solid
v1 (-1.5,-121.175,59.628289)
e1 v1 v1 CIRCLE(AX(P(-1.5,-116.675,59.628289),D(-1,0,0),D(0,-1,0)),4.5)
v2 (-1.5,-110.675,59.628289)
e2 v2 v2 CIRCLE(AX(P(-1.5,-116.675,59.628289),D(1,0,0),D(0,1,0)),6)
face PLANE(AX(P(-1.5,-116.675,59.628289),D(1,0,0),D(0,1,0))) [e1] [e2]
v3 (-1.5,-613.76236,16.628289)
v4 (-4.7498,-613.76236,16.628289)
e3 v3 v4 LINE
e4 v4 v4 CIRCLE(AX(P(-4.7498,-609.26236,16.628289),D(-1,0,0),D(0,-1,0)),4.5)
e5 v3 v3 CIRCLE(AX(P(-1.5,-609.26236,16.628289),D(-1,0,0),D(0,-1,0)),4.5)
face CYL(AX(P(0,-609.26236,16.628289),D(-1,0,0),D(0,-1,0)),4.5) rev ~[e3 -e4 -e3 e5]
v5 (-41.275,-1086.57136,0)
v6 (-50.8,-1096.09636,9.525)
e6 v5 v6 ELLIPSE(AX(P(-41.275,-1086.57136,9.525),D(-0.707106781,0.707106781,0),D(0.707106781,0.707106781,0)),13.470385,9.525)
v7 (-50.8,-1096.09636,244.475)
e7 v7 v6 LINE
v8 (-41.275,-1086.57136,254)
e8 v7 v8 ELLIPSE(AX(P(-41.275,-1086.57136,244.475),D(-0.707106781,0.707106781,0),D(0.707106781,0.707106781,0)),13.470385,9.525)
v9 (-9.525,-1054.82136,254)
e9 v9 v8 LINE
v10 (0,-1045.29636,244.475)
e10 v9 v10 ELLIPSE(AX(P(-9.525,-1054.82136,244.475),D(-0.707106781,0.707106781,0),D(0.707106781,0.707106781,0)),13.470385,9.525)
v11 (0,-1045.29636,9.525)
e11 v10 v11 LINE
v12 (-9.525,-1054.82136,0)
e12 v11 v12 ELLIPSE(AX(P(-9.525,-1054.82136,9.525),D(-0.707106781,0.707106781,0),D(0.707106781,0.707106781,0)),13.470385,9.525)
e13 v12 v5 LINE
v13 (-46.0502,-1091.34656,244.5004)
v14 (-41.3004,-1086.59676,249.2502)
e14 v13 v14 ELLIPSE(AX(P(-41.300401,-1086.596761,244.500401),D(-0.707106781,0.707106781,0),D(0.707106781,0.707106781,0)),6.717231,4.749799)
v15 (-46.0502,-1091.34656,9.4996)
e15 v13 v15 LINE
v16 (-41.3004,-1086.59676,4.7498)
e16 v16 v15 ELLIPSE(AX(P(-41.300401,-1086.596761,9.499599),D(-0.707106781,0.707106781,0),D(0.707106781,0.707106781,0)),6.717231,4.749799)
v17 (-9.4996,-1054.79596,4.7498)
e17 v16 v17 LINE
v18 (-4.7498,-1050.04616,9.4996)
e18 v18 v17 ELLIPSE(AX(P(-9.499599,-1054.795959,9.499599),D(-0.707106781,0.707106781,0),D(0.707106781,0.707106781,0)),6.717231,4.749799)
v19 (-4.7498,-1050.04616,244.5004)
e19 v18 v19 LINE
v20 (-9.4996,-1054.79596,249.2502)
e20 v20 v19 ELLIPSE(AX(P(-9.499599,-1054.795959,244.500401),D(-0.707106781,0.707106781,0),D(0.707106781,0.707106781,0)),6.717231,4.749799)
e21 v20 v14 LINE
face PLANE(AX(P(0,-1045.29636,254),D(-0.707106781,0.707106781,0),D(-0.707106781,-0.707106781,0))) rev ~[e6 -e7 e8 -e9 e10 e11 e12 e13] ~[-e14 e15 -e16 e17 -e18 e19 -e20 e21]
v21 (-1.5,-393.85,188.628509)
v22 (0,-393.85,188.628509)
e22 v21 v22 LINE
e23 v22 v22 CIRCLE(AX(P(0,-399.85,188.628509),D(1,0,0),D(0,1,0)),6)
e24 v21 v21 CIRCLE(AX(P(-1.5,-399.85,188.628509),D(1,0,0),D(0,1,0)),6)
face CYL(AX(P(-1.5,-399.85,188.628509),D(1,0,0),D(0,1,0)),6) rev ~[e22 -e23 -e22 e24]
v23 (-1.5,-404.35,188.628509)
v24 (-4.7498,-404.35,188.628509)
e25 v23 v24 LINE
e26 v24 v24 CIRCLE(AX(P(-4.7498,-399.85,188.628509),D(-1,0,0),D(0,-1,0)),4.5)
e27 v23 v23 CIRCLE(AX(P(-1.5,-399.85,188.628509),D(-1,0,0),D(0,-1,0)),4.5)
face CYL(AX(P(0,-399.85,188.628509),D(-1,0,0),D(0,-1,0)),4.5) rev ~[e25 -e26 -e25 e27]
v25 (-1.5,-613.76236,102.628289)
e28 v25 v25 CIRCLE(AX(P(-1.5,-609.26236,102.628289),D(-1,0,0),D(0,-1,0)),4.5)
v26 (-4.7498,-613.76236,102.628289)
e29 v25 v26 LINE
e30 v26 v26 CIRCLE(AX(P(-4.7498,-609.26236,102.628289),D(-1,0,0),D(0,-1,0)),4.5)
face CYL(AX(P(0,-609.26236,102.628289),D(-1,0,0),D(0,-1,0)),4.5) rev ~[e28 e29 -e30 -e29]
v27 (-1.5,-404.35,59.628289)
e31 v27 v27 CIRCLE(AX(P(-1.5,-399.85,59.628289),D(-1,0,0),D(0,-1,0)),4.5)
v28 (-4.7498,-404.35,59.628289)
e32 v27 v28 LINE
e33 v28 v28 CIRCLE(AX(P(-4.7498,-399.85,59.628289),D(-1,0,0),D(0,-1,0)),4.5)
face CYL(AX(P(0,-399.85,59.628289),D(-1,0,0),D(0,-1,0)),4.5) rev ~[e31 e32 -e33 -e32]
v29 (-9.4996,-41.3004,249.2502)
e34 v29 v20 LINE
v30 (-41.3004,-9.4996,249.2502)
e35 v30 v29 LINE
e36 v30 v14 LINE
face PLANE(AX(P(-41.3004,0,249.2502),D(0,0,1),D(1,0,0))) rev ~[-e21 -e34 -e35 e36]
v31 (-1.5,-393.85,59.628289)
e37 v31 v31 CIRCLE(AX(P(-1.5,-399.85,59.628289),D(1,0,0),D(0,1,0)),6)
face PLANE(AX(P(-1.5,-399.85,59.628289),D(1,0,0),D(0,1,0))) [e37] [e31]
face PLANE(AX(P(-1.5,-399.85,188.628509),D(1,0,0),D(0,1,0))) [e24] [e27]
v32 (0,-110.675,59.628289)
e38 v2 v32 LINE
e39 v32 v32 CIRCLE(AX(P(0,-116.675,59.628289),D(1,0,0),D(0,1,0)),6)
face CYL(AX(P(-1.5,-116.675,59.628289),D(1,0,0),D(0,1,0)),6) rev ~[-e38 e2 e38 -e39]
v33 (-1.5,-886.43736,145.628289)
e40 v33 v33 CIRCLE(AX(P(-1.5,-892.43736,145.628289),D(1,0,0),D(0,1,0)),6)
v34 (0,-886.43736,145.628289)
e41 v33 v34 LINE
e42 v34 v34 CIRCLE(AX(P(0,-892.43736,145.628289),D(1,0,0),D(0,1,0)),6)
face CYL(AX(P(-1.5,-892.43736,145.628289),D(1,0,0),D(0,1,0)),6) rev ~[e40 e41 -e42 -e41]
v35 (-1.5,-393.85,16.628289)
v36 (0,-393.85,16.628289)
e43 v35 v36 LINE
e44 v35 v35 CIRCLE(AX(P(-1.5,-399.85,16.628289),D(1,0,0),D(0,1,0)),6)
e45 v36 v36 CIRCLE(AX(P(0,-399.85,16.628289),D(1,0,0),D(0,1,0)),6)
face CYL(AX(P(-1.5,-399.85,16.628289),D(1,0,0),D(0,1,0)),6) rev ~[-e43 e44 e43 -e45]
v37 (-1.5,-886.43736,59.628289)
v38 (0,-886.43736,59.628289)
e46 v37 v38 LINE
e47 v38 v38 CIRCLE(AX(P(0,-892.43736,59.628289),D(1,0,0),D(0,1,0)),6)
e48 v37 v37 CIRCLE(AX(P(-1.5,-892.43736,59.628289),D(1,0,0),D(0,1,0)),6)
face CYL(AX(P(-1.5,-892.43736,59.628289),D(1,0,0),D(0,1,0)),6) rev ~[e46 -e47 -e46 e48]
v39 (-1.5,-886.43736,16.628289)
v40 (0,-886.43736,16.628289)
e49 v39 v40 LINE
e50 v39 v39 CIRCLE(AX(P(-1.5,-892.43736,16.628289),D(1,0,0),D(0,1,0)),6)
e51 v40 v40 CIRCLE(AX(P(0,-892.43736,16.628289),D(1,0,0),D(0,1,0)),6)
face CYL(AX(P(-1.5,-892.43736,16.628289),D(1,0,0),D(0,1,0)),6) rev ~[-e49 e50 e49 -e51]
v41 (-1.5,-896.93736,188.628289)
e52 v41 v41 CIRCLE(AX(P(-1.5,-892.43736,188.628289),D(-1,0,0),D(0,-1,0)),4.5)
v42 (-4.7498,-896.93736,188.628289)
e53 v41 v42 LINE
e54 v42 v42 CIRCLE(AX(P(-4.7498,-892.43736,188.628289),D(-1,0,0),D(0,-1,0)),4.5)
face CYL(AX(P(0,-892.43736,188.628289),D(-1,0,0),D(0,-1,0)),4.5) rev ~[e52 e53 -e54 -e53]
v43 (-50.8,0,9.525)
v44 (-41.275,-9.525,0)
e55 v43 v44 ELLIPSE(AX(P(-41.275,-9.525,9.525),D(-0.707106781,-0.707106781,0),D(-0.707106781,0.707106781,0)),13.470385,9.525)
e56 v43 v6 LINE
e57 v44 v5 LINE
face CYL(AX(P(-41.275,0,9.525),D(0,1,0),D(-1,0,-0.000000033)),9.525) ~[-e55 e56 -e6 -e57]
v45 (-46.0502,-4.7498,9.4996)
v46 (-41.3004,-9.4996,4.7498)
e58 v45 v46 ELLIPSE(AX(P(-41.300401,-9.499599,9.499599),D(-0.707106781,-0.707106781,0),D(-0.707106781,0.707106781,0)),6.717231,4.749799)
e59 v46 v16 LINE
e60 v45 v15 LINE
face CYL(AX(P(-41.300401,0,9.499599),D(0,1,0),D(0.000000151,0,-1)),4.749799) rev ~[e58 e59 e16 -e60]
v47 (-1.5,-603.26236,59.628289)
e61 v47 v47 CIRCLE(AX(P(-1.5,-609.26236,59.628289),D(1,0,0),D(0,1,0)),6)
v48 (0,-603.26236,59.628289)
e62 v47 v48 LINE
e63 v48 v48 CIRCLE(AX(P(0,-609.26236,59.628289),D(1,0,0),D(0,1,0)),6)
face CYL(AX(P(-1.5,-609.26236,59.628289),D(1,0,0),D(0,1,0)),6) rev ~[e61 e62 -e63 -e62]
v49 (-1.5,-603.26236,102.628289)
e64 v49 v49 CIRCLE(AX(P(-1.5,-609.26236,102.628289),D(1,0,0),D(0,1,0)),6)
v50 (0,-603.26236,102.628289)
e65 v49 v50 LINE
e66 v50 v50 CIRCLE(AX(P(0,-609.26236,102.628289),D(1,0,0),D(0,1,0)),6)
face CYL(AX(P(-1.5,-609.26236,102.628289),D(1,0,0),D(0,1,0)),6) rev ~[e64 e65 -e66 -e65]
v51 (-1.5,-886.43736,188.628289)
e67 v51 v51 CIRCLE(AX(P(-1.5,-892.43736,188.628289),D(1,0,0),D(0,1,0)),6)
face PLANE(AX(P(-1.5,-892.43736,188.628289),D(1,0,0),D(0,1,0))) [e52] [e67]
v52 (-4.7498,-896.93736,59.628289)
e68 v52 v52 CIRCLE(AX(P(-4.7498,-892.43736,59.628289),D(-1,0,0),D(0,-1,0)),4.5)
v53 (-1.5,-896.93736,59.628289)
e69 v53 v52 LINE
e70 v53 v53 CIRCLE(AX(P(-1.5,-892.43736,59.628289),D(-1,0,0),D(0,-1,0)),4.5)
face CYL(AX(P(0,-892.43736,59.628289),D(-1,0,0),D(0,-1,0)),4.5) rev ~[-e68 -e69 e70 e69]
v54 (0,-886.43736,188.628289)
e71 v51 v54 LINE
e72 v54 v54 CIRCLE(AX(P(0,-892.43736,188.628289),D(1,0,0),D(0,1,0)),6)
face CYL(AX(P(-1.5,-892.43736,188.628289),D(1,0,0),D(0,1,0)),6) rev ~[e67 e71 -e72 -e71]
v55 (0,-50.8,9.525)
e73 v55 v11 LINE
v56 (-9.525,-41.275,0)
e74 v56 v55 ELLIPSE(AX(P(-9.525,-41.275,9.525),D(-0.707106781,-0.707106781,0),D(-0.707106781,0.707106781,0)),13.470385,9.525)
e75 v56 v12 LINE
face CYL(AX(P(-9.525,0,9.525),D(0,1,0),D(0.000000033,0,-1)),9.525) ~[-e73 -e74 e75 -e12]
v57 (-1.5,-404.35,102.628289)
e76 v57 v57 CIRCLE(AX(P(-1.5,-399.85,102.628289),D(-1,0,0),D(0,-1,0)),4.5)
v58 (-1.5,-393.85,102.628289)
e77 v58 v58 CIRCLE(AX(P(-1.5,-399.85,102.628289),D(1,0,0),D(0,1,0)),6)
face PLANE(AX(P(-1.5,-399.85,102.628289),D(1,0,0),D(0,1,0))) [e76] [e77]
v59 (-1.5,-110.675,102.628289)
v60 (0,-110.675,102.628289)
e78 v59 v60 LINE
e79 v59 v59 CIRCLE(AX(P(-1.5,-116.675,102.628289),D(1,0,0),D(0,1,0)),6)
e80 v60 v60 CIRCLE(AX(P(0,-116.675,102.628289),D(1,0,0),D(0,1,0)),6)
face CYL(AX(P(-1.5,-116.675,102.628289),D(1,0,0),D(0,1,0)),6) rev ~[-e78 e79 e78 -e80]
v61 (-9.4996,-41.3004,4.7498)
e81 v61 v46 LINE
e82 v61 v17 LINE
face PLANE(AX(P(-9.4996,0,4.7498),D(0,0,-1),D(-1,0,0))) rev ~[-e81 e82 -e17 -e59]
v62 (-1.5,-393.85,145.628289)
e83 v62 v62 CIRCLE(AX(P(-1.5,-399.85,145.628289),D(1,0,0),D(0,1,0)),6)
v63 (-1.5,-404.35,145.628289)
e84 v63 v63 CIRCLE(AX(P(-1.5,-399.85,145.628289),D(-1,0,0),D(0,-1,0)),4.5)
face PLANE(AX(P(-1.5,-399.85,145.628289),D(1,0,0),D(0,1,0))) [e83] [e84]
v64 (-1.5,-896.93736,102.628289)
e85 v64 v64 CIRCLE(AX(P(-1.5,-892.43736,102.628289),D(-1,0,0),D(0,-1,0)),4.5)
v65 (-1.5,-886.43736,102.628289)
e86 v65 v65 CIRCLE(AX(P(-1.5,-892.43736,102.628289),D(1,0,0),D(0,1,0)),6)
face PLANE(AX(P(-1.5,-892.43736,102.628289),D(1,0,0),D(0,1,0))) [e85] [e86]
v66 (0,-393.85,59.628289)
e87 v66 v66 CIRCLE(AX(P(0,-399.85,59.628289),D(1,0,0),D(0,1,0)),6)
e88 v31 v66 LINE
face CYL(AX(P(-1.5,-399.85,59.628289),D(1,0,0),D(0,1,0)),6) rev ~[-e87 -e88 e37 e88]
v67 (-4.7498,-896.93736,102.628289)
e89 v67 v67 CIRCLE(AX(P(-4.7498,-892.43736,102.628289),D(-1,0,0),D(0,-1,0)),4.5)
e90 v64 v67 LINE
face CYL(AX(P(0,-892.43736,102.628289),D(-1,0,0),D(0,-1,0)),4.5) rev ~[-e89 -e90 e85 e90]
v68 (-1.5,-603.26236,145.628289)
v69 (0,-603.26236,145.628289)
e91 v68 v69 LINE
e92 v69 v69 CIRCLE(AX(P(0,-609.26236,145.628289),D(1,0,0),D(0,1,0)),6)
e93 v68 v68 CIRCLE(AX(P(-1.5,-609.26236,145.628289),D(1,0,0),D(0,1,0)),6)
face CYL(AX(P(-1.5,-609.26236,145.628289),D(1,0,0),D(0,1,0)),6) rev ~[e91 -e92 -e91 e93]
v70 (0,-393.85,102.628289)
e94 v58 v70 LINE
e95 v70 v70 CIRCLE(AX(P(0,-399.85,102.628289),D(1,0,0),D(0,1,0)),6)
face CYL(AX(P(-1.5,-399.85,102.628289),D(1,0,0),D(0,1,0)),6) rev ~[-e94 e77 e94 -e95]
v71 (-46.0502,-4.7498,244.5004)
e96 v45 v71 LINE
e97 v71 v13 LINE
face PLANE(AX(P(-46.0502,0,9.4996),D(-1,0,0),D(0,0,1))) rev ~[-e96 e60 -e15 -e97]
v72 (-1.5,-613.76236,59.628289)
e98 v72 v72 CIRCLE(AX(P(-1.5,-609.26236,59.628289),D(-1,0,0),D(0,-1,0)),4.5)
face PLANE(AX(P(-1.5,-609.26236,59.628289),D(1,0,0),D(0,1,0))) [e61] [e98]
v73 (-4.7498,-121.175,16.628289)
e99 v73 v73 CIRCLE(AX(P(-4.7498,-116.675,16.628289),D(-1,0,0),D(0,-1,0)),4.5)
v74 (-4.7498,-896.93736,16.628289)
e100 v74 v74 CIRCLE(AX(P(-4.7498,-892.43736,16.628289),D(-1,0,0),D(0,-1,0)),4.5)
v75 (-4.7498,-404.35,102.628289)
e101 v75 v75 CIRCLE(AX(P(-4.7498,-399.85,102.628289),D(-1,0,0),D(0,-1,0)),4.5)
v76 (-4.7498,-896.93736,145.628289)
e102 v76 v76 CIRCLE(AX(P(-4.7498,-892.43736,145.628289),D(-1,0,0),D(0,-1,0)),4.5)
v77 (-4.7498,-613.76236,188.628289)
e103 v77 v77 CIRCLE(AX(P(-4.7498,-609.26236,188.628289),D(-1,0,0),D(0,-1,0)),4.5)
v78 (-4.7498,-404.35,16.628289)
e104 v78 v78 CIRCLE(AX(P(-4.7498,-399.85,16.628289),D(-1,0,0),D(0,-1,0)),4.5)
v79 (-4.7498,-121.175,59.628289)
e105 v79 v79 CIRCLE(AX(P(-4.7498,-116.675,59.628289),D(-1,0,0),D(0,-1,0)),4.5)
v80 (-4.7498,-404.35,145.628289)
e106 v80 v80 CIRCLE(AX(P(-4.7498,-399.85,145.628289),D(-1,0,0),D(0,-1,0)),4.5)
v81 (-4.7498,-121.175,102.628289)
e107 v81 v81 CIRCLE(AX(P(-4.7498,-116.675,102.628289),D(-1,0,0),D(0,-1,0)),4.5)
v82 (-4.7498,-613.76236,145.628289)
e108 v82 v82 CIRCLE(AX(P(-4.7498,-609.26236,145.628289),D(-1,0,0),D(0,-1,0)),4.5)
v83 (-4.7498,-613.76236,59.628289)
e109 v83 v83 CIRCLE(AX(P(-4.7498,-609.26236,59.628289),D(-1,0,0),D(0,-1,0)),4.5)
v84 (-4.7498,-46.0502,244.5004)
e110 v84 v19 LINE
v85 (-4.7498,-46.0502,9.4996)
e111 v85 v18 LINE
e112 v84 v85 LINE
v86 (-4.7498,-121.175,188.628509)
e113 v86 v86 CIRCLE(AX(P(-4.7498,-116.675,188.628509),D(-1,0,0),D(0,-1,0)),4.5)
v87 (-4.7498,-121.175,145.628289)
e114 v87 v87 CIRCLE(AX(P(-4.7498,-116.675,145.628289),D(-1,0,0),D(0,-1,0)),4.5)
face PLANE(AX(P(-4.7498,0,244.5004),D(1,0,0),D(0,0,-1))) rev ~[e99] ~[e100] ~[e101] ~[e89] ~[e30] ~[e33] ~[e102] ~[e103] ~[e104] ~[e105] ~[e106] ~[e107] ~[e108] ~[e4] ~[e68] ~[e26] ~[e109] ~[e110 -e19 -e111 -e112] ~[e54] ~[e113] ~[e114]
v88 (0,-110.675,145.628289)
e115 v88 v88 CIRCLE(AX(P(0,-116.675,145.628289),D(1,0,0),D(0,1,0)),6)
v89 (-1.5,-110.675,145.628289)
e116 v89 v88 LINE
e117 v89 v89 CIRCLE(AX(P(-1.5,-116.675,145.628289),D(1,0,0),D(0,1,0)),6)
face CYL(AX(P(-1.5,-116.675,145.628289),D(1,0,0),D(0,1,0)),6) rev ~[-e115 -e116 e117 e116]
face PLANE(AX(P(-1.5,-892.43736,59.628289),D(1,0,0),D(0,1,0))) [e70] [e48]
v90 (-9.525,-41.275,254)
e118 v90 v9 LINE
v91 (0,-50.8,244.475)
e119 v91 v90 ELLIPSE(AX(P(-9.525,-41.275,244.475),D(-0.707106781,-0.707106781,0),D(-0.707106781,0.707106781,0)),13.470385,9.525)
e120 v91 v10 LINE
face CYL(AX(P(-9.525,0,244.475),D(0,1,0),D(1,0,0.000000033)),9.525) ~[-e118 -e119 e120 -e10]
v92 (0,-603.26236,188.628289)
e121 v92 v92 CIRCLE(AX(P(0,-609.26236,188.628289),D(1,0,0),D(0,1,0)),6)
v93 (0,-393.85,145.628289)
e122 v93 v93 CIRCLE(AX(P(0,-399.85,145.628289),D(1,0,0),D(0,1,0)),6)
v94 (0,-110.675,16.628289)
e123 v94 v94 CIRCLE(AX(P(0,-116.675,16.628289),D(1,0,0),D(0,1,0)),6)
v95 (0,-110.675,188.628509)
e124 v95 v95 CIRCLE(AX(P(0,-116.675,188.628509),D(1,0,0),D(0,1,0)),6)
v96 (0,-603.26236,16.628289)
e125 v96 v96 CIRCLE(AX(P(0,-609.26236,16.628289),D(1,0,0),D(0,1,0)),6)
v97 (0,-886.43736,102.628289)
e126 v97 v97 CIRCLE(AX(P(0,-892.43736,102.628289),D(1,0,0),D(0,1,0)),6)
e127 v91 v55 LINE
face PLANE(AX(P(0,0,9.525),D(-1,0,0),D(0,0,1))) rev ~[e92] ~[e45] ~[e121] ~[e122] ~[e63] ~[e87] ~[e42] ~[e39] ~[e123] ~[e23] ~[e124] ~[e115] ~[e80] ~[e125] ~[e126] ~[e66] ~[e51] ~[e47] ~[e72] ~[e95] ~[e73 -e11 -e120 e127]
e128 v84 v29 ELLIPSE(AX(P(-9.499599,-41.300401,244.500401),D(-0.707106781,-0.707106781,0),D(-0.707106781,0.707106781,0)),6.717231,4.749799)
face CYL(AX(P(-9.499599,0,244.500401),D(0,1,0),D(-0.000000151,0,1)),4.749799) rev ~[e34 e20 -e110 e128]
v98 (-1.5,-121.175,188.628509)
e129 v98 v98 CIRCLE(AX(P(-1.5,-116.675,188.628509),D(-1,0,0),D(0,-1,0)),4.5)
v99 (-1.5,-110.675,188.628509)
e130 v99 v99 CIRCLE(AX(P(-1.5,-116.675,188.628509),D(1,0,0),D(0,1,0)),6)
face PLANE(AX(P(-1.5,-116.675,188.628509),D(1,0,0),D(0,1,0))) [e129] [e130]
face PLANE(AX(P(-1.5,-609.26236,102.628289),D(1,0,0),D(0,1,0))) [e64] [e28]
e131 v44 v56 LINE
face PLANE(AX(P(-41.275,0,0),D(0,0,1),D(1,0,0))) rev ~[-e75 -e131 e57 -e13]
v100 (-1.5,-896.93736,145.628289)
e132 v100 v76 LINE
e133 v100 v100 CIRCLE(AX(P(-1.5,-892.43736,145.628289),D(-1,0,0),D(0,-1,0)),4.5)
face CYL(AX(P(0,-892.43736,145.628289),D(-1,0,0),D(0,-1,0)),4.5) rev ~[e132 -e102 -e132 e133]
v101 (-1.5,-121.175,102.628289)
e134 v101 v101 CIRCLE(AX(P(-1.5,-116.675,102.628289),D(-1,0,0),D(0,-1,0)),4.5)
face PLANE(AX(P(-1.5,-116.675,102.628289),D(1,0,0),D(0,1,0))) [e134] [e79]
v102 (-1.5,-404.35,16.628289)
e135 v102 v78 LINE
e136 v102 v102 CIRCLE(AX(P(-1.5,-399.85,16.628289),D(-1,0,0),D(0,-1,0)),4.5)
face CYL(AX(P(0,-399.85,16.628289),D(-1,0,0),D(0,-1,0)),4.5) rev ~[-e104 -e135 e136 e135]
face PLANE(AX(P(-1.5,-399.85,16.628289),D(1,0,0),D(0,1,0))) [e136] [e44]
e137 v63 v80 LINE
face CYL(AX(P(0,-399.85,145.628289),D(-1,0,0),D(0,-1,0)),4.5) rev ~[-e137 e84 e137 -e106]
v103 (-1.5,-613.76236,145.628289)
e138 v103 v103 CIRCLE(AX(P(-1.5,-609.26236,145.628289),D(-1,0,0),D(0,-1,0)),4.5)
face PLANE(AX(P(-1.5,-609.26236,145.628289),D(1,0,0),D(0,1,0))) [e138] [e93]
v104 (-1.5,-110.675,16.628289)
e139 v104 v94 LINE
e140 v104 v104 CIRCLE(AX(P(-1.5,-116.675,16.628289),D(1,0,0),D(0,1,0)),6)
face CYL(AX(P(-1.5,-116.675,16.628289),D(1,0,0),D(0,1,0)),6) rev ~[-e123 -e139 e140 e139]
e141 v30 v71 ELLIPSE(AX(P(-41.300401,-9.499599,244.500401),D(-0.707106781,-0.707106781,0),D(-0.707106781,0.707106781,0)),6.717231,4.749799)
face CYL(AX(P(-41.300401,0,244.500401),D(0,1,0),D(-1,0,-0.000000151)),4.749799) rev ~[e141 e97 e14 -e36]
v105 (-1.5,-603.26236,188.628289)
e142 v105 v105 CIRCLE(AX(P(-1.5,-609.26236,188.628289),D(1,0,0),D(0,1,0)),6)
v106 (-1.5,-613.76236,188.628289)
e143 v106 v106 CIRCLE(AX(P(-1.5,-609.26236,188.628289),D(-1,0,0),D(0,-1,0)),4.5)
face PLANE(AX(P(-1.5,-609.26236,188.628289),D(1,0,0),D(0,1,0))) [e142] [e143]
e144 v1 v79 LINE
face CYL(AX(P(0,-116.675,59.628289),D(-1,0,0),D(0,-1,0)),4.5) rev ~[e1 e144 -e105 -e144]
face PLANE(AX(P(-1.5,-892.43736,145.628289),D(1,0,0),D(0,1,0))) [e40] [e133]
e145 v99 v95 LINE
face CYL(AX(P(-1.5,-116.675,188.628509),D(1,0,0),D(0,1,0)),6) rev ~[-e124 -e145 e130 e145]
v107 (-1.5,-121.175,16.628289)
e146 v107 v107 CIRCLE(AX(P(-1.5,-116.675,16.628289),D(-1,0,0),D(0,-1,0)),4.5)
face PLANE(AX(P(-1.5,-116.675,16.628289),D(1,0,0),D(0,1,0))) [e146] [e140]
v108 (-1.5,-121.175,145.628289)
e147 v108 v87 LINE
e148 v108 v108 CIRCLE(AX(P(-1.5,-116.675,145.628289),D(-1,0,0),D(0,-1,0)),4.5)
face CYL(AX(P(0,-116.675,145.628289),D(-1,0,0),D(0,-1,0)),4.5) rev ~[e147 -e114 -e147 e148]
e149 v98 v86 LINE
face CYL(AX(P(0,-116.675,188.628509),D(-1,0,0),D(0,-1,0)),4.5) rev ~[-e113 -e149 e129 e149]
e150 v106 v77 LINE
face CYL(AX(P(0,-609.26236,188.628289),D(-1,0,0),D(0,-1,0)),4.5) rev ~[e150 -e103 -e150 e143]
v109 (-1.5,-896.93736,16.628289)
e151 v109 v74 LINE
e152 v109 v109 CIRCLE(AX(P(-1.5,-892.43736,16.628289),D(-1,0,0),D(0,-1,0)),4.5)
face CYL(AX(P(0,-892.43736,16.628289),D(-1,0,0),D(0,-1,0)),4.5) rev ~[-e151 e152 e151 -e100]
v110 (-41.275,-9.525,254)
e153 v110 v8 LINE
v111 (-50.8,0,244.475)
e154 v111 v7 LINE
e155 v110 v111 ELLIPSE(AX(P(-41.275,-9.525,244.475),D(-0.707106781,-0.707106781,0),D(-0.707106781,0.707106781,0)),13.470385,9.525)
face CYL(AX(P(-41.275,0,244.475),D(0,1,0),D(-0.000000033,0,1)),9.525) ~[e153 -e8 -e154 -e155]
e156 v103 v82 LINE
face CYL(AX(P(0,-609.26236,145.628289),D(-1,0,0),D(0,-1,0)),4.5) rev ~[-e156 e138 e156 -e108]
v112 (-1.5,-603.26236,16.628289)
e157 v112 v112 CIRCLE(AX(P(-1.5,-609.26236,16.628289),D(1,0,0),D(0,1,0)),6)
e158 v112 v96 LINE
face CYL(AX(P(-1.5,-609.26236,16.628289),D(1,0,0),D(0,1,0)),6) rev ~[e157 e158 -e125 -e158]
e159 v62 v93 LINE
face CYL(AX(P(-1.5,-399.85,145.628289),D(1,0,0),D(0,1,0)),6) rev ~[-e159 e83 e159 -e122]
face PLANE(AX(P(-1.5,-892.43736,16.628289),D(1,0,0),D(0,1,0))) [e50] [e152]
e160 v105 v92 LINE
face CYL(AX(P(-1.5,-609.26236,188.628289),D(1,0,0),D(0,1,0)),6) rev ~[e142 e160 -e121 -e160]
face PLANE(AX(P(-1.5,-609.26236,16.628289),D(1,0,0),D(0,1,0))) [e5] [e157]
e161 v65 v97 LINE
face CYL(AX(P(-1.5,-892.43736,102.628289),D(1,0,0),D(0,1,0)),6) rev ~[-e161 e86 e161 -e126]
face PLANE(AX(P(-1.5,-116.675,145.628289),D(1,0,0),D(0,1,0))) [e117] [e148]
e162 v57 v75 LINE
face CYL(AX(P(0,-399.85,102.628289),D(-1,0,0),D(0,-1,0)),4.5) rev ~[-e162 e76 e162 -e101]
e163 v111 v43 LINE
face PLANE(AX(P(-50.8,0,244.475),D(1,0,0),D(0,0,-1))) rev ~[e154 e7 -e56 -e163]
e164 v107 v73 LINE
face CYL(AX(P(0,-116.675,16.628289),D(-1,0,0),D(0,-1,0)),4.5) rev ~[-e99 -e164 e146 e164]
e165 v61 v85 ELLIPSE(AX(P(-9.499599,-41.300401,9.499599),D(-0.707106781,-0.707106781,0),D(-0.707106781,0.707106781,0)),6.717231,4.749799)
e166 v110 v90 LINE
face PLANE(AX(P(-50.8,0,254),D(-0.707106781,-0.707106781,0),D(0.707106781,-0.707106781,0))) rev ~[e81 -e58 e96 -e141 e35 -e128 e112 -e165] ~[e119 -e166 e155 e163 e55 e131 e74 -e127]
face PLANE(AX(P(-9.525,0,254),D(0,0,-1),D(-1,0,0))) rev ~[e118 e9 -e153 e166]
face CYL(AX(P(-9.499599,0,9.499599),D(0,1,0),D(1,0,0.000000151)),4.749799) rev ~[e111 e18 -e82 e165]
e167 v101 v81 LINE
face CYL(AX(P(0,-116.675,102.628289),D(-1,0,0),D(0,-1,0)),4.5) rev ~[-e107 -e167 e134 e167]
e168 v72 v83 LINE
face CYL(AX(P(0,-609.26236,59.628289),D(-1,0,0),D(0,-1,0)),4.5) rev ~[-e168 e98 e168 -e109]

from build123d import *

# Parameters (mm, degrees)
F1_DEPTH       = 1096.09636
F3_DEPTH       = 254.001
F5_D           = 9
F5_DEPTH       = 10
F5_CBORE_D     = 12
F5_CBORE_DEPTH = 1.5


with BuildPart() as f1:
    # F0 (on Front) → F1 (new body)
    with BuildSketch(Plane.XZ):
        with BuildLine():
            Line((-41.275, 0), (-9.525, 0))
            ThreePointArc((-9.525, 0), (-2.789808, 2.789808), (0, 9.525))
            Line((0, 9.525), (0, 244.475))
            ThreePointArc((0, 244.475), (-2.789808, 251.210192), (-9.525, 254))
            Line((-9.525, 254), (-41.275, 254))
            ThreePointArc((-41.275, 254), (-48.010192, 251.210192), (-50.8, 244.475))
            Line((-50.8, 244.475), (-50.8, 9.525))
            ThreePointArc((-50.8, 9.525), (-48.010192, 2.789808), (-41.275, 0))
        make_face()
        with BuildLine():
            ThreePointArc((-46.0502, 244.5004), (-44.659016, 247.859016), (-41.3004, 249.2502))
            Line((-41.3004, 249.2502), (-9.4996, 249.2502))
            ThreePointArc((-9.4996, 249.2502), (-6.140984, 247.859016), (-4.7498, 244.5004))
            Line((-4.7498, 244.5004), (-4.7498, 9.4996))
            ThreePointArc((-4.7498, 9.4996), (-6.140984, 6.140984), (-9.4996, 4.7498))
            Line((-9.4996, 4.7498), (-41.3004, 4.7498))
            ThreePointArc((-41.3004, 4.7498), (-44.659016, 6.140984), (-46.0502, 9.4996))
            Line((-46.0502, 9.4996), (-46.0502, 244.5004))
        make_face(mode=Mode.SUBTRACT)
    extrude(amount=F1_DEPTH)

    # F2 (on face) → F3 (cut, through all)
    with BuildSketch(Plane.XY.offset(254)):
        Polygon((0, 0), (-50.8, 0), (0, -50.8), align=None)
        Polygon((0, -1045.29636), (-50.8, -1096.09636), (0, -1096.09636), align=None)
    extrude(amount=-F3_DEPTH, mode=Mode.SUBTRACT)

    # F5
    with Locations(Plane.YZ):
        with Locations((-892.43736, 188.628289), (-892.43736, 145.628289), (-892.43736, 102.628289), (-892.43736, 59.628289), (-892.43736, 16.628289), (-609.26236, 188.628289), (-609.26236, 145.628289), (-609.26236, 102.628289), (-609.26236, 59.628289), (-609.26236, 16.628289), (-399.85, 188.628509), (-399.85, 145.628289), (-399.85, 102.628289), (-399.85, 59.628289), (-399.85, 16.628289), (-116.675, 188.628509), (-116.675, 145.628289), (-116.675, 102.628289), (-116.675, 59.628289), (-116.675, 16.628289)):
            CounterBoreHole(F5_D / 2, F5_CBORE_D / 2, F5_CBORE_DEPTH, depth=F5_DEPTH)


solid = f1.part
